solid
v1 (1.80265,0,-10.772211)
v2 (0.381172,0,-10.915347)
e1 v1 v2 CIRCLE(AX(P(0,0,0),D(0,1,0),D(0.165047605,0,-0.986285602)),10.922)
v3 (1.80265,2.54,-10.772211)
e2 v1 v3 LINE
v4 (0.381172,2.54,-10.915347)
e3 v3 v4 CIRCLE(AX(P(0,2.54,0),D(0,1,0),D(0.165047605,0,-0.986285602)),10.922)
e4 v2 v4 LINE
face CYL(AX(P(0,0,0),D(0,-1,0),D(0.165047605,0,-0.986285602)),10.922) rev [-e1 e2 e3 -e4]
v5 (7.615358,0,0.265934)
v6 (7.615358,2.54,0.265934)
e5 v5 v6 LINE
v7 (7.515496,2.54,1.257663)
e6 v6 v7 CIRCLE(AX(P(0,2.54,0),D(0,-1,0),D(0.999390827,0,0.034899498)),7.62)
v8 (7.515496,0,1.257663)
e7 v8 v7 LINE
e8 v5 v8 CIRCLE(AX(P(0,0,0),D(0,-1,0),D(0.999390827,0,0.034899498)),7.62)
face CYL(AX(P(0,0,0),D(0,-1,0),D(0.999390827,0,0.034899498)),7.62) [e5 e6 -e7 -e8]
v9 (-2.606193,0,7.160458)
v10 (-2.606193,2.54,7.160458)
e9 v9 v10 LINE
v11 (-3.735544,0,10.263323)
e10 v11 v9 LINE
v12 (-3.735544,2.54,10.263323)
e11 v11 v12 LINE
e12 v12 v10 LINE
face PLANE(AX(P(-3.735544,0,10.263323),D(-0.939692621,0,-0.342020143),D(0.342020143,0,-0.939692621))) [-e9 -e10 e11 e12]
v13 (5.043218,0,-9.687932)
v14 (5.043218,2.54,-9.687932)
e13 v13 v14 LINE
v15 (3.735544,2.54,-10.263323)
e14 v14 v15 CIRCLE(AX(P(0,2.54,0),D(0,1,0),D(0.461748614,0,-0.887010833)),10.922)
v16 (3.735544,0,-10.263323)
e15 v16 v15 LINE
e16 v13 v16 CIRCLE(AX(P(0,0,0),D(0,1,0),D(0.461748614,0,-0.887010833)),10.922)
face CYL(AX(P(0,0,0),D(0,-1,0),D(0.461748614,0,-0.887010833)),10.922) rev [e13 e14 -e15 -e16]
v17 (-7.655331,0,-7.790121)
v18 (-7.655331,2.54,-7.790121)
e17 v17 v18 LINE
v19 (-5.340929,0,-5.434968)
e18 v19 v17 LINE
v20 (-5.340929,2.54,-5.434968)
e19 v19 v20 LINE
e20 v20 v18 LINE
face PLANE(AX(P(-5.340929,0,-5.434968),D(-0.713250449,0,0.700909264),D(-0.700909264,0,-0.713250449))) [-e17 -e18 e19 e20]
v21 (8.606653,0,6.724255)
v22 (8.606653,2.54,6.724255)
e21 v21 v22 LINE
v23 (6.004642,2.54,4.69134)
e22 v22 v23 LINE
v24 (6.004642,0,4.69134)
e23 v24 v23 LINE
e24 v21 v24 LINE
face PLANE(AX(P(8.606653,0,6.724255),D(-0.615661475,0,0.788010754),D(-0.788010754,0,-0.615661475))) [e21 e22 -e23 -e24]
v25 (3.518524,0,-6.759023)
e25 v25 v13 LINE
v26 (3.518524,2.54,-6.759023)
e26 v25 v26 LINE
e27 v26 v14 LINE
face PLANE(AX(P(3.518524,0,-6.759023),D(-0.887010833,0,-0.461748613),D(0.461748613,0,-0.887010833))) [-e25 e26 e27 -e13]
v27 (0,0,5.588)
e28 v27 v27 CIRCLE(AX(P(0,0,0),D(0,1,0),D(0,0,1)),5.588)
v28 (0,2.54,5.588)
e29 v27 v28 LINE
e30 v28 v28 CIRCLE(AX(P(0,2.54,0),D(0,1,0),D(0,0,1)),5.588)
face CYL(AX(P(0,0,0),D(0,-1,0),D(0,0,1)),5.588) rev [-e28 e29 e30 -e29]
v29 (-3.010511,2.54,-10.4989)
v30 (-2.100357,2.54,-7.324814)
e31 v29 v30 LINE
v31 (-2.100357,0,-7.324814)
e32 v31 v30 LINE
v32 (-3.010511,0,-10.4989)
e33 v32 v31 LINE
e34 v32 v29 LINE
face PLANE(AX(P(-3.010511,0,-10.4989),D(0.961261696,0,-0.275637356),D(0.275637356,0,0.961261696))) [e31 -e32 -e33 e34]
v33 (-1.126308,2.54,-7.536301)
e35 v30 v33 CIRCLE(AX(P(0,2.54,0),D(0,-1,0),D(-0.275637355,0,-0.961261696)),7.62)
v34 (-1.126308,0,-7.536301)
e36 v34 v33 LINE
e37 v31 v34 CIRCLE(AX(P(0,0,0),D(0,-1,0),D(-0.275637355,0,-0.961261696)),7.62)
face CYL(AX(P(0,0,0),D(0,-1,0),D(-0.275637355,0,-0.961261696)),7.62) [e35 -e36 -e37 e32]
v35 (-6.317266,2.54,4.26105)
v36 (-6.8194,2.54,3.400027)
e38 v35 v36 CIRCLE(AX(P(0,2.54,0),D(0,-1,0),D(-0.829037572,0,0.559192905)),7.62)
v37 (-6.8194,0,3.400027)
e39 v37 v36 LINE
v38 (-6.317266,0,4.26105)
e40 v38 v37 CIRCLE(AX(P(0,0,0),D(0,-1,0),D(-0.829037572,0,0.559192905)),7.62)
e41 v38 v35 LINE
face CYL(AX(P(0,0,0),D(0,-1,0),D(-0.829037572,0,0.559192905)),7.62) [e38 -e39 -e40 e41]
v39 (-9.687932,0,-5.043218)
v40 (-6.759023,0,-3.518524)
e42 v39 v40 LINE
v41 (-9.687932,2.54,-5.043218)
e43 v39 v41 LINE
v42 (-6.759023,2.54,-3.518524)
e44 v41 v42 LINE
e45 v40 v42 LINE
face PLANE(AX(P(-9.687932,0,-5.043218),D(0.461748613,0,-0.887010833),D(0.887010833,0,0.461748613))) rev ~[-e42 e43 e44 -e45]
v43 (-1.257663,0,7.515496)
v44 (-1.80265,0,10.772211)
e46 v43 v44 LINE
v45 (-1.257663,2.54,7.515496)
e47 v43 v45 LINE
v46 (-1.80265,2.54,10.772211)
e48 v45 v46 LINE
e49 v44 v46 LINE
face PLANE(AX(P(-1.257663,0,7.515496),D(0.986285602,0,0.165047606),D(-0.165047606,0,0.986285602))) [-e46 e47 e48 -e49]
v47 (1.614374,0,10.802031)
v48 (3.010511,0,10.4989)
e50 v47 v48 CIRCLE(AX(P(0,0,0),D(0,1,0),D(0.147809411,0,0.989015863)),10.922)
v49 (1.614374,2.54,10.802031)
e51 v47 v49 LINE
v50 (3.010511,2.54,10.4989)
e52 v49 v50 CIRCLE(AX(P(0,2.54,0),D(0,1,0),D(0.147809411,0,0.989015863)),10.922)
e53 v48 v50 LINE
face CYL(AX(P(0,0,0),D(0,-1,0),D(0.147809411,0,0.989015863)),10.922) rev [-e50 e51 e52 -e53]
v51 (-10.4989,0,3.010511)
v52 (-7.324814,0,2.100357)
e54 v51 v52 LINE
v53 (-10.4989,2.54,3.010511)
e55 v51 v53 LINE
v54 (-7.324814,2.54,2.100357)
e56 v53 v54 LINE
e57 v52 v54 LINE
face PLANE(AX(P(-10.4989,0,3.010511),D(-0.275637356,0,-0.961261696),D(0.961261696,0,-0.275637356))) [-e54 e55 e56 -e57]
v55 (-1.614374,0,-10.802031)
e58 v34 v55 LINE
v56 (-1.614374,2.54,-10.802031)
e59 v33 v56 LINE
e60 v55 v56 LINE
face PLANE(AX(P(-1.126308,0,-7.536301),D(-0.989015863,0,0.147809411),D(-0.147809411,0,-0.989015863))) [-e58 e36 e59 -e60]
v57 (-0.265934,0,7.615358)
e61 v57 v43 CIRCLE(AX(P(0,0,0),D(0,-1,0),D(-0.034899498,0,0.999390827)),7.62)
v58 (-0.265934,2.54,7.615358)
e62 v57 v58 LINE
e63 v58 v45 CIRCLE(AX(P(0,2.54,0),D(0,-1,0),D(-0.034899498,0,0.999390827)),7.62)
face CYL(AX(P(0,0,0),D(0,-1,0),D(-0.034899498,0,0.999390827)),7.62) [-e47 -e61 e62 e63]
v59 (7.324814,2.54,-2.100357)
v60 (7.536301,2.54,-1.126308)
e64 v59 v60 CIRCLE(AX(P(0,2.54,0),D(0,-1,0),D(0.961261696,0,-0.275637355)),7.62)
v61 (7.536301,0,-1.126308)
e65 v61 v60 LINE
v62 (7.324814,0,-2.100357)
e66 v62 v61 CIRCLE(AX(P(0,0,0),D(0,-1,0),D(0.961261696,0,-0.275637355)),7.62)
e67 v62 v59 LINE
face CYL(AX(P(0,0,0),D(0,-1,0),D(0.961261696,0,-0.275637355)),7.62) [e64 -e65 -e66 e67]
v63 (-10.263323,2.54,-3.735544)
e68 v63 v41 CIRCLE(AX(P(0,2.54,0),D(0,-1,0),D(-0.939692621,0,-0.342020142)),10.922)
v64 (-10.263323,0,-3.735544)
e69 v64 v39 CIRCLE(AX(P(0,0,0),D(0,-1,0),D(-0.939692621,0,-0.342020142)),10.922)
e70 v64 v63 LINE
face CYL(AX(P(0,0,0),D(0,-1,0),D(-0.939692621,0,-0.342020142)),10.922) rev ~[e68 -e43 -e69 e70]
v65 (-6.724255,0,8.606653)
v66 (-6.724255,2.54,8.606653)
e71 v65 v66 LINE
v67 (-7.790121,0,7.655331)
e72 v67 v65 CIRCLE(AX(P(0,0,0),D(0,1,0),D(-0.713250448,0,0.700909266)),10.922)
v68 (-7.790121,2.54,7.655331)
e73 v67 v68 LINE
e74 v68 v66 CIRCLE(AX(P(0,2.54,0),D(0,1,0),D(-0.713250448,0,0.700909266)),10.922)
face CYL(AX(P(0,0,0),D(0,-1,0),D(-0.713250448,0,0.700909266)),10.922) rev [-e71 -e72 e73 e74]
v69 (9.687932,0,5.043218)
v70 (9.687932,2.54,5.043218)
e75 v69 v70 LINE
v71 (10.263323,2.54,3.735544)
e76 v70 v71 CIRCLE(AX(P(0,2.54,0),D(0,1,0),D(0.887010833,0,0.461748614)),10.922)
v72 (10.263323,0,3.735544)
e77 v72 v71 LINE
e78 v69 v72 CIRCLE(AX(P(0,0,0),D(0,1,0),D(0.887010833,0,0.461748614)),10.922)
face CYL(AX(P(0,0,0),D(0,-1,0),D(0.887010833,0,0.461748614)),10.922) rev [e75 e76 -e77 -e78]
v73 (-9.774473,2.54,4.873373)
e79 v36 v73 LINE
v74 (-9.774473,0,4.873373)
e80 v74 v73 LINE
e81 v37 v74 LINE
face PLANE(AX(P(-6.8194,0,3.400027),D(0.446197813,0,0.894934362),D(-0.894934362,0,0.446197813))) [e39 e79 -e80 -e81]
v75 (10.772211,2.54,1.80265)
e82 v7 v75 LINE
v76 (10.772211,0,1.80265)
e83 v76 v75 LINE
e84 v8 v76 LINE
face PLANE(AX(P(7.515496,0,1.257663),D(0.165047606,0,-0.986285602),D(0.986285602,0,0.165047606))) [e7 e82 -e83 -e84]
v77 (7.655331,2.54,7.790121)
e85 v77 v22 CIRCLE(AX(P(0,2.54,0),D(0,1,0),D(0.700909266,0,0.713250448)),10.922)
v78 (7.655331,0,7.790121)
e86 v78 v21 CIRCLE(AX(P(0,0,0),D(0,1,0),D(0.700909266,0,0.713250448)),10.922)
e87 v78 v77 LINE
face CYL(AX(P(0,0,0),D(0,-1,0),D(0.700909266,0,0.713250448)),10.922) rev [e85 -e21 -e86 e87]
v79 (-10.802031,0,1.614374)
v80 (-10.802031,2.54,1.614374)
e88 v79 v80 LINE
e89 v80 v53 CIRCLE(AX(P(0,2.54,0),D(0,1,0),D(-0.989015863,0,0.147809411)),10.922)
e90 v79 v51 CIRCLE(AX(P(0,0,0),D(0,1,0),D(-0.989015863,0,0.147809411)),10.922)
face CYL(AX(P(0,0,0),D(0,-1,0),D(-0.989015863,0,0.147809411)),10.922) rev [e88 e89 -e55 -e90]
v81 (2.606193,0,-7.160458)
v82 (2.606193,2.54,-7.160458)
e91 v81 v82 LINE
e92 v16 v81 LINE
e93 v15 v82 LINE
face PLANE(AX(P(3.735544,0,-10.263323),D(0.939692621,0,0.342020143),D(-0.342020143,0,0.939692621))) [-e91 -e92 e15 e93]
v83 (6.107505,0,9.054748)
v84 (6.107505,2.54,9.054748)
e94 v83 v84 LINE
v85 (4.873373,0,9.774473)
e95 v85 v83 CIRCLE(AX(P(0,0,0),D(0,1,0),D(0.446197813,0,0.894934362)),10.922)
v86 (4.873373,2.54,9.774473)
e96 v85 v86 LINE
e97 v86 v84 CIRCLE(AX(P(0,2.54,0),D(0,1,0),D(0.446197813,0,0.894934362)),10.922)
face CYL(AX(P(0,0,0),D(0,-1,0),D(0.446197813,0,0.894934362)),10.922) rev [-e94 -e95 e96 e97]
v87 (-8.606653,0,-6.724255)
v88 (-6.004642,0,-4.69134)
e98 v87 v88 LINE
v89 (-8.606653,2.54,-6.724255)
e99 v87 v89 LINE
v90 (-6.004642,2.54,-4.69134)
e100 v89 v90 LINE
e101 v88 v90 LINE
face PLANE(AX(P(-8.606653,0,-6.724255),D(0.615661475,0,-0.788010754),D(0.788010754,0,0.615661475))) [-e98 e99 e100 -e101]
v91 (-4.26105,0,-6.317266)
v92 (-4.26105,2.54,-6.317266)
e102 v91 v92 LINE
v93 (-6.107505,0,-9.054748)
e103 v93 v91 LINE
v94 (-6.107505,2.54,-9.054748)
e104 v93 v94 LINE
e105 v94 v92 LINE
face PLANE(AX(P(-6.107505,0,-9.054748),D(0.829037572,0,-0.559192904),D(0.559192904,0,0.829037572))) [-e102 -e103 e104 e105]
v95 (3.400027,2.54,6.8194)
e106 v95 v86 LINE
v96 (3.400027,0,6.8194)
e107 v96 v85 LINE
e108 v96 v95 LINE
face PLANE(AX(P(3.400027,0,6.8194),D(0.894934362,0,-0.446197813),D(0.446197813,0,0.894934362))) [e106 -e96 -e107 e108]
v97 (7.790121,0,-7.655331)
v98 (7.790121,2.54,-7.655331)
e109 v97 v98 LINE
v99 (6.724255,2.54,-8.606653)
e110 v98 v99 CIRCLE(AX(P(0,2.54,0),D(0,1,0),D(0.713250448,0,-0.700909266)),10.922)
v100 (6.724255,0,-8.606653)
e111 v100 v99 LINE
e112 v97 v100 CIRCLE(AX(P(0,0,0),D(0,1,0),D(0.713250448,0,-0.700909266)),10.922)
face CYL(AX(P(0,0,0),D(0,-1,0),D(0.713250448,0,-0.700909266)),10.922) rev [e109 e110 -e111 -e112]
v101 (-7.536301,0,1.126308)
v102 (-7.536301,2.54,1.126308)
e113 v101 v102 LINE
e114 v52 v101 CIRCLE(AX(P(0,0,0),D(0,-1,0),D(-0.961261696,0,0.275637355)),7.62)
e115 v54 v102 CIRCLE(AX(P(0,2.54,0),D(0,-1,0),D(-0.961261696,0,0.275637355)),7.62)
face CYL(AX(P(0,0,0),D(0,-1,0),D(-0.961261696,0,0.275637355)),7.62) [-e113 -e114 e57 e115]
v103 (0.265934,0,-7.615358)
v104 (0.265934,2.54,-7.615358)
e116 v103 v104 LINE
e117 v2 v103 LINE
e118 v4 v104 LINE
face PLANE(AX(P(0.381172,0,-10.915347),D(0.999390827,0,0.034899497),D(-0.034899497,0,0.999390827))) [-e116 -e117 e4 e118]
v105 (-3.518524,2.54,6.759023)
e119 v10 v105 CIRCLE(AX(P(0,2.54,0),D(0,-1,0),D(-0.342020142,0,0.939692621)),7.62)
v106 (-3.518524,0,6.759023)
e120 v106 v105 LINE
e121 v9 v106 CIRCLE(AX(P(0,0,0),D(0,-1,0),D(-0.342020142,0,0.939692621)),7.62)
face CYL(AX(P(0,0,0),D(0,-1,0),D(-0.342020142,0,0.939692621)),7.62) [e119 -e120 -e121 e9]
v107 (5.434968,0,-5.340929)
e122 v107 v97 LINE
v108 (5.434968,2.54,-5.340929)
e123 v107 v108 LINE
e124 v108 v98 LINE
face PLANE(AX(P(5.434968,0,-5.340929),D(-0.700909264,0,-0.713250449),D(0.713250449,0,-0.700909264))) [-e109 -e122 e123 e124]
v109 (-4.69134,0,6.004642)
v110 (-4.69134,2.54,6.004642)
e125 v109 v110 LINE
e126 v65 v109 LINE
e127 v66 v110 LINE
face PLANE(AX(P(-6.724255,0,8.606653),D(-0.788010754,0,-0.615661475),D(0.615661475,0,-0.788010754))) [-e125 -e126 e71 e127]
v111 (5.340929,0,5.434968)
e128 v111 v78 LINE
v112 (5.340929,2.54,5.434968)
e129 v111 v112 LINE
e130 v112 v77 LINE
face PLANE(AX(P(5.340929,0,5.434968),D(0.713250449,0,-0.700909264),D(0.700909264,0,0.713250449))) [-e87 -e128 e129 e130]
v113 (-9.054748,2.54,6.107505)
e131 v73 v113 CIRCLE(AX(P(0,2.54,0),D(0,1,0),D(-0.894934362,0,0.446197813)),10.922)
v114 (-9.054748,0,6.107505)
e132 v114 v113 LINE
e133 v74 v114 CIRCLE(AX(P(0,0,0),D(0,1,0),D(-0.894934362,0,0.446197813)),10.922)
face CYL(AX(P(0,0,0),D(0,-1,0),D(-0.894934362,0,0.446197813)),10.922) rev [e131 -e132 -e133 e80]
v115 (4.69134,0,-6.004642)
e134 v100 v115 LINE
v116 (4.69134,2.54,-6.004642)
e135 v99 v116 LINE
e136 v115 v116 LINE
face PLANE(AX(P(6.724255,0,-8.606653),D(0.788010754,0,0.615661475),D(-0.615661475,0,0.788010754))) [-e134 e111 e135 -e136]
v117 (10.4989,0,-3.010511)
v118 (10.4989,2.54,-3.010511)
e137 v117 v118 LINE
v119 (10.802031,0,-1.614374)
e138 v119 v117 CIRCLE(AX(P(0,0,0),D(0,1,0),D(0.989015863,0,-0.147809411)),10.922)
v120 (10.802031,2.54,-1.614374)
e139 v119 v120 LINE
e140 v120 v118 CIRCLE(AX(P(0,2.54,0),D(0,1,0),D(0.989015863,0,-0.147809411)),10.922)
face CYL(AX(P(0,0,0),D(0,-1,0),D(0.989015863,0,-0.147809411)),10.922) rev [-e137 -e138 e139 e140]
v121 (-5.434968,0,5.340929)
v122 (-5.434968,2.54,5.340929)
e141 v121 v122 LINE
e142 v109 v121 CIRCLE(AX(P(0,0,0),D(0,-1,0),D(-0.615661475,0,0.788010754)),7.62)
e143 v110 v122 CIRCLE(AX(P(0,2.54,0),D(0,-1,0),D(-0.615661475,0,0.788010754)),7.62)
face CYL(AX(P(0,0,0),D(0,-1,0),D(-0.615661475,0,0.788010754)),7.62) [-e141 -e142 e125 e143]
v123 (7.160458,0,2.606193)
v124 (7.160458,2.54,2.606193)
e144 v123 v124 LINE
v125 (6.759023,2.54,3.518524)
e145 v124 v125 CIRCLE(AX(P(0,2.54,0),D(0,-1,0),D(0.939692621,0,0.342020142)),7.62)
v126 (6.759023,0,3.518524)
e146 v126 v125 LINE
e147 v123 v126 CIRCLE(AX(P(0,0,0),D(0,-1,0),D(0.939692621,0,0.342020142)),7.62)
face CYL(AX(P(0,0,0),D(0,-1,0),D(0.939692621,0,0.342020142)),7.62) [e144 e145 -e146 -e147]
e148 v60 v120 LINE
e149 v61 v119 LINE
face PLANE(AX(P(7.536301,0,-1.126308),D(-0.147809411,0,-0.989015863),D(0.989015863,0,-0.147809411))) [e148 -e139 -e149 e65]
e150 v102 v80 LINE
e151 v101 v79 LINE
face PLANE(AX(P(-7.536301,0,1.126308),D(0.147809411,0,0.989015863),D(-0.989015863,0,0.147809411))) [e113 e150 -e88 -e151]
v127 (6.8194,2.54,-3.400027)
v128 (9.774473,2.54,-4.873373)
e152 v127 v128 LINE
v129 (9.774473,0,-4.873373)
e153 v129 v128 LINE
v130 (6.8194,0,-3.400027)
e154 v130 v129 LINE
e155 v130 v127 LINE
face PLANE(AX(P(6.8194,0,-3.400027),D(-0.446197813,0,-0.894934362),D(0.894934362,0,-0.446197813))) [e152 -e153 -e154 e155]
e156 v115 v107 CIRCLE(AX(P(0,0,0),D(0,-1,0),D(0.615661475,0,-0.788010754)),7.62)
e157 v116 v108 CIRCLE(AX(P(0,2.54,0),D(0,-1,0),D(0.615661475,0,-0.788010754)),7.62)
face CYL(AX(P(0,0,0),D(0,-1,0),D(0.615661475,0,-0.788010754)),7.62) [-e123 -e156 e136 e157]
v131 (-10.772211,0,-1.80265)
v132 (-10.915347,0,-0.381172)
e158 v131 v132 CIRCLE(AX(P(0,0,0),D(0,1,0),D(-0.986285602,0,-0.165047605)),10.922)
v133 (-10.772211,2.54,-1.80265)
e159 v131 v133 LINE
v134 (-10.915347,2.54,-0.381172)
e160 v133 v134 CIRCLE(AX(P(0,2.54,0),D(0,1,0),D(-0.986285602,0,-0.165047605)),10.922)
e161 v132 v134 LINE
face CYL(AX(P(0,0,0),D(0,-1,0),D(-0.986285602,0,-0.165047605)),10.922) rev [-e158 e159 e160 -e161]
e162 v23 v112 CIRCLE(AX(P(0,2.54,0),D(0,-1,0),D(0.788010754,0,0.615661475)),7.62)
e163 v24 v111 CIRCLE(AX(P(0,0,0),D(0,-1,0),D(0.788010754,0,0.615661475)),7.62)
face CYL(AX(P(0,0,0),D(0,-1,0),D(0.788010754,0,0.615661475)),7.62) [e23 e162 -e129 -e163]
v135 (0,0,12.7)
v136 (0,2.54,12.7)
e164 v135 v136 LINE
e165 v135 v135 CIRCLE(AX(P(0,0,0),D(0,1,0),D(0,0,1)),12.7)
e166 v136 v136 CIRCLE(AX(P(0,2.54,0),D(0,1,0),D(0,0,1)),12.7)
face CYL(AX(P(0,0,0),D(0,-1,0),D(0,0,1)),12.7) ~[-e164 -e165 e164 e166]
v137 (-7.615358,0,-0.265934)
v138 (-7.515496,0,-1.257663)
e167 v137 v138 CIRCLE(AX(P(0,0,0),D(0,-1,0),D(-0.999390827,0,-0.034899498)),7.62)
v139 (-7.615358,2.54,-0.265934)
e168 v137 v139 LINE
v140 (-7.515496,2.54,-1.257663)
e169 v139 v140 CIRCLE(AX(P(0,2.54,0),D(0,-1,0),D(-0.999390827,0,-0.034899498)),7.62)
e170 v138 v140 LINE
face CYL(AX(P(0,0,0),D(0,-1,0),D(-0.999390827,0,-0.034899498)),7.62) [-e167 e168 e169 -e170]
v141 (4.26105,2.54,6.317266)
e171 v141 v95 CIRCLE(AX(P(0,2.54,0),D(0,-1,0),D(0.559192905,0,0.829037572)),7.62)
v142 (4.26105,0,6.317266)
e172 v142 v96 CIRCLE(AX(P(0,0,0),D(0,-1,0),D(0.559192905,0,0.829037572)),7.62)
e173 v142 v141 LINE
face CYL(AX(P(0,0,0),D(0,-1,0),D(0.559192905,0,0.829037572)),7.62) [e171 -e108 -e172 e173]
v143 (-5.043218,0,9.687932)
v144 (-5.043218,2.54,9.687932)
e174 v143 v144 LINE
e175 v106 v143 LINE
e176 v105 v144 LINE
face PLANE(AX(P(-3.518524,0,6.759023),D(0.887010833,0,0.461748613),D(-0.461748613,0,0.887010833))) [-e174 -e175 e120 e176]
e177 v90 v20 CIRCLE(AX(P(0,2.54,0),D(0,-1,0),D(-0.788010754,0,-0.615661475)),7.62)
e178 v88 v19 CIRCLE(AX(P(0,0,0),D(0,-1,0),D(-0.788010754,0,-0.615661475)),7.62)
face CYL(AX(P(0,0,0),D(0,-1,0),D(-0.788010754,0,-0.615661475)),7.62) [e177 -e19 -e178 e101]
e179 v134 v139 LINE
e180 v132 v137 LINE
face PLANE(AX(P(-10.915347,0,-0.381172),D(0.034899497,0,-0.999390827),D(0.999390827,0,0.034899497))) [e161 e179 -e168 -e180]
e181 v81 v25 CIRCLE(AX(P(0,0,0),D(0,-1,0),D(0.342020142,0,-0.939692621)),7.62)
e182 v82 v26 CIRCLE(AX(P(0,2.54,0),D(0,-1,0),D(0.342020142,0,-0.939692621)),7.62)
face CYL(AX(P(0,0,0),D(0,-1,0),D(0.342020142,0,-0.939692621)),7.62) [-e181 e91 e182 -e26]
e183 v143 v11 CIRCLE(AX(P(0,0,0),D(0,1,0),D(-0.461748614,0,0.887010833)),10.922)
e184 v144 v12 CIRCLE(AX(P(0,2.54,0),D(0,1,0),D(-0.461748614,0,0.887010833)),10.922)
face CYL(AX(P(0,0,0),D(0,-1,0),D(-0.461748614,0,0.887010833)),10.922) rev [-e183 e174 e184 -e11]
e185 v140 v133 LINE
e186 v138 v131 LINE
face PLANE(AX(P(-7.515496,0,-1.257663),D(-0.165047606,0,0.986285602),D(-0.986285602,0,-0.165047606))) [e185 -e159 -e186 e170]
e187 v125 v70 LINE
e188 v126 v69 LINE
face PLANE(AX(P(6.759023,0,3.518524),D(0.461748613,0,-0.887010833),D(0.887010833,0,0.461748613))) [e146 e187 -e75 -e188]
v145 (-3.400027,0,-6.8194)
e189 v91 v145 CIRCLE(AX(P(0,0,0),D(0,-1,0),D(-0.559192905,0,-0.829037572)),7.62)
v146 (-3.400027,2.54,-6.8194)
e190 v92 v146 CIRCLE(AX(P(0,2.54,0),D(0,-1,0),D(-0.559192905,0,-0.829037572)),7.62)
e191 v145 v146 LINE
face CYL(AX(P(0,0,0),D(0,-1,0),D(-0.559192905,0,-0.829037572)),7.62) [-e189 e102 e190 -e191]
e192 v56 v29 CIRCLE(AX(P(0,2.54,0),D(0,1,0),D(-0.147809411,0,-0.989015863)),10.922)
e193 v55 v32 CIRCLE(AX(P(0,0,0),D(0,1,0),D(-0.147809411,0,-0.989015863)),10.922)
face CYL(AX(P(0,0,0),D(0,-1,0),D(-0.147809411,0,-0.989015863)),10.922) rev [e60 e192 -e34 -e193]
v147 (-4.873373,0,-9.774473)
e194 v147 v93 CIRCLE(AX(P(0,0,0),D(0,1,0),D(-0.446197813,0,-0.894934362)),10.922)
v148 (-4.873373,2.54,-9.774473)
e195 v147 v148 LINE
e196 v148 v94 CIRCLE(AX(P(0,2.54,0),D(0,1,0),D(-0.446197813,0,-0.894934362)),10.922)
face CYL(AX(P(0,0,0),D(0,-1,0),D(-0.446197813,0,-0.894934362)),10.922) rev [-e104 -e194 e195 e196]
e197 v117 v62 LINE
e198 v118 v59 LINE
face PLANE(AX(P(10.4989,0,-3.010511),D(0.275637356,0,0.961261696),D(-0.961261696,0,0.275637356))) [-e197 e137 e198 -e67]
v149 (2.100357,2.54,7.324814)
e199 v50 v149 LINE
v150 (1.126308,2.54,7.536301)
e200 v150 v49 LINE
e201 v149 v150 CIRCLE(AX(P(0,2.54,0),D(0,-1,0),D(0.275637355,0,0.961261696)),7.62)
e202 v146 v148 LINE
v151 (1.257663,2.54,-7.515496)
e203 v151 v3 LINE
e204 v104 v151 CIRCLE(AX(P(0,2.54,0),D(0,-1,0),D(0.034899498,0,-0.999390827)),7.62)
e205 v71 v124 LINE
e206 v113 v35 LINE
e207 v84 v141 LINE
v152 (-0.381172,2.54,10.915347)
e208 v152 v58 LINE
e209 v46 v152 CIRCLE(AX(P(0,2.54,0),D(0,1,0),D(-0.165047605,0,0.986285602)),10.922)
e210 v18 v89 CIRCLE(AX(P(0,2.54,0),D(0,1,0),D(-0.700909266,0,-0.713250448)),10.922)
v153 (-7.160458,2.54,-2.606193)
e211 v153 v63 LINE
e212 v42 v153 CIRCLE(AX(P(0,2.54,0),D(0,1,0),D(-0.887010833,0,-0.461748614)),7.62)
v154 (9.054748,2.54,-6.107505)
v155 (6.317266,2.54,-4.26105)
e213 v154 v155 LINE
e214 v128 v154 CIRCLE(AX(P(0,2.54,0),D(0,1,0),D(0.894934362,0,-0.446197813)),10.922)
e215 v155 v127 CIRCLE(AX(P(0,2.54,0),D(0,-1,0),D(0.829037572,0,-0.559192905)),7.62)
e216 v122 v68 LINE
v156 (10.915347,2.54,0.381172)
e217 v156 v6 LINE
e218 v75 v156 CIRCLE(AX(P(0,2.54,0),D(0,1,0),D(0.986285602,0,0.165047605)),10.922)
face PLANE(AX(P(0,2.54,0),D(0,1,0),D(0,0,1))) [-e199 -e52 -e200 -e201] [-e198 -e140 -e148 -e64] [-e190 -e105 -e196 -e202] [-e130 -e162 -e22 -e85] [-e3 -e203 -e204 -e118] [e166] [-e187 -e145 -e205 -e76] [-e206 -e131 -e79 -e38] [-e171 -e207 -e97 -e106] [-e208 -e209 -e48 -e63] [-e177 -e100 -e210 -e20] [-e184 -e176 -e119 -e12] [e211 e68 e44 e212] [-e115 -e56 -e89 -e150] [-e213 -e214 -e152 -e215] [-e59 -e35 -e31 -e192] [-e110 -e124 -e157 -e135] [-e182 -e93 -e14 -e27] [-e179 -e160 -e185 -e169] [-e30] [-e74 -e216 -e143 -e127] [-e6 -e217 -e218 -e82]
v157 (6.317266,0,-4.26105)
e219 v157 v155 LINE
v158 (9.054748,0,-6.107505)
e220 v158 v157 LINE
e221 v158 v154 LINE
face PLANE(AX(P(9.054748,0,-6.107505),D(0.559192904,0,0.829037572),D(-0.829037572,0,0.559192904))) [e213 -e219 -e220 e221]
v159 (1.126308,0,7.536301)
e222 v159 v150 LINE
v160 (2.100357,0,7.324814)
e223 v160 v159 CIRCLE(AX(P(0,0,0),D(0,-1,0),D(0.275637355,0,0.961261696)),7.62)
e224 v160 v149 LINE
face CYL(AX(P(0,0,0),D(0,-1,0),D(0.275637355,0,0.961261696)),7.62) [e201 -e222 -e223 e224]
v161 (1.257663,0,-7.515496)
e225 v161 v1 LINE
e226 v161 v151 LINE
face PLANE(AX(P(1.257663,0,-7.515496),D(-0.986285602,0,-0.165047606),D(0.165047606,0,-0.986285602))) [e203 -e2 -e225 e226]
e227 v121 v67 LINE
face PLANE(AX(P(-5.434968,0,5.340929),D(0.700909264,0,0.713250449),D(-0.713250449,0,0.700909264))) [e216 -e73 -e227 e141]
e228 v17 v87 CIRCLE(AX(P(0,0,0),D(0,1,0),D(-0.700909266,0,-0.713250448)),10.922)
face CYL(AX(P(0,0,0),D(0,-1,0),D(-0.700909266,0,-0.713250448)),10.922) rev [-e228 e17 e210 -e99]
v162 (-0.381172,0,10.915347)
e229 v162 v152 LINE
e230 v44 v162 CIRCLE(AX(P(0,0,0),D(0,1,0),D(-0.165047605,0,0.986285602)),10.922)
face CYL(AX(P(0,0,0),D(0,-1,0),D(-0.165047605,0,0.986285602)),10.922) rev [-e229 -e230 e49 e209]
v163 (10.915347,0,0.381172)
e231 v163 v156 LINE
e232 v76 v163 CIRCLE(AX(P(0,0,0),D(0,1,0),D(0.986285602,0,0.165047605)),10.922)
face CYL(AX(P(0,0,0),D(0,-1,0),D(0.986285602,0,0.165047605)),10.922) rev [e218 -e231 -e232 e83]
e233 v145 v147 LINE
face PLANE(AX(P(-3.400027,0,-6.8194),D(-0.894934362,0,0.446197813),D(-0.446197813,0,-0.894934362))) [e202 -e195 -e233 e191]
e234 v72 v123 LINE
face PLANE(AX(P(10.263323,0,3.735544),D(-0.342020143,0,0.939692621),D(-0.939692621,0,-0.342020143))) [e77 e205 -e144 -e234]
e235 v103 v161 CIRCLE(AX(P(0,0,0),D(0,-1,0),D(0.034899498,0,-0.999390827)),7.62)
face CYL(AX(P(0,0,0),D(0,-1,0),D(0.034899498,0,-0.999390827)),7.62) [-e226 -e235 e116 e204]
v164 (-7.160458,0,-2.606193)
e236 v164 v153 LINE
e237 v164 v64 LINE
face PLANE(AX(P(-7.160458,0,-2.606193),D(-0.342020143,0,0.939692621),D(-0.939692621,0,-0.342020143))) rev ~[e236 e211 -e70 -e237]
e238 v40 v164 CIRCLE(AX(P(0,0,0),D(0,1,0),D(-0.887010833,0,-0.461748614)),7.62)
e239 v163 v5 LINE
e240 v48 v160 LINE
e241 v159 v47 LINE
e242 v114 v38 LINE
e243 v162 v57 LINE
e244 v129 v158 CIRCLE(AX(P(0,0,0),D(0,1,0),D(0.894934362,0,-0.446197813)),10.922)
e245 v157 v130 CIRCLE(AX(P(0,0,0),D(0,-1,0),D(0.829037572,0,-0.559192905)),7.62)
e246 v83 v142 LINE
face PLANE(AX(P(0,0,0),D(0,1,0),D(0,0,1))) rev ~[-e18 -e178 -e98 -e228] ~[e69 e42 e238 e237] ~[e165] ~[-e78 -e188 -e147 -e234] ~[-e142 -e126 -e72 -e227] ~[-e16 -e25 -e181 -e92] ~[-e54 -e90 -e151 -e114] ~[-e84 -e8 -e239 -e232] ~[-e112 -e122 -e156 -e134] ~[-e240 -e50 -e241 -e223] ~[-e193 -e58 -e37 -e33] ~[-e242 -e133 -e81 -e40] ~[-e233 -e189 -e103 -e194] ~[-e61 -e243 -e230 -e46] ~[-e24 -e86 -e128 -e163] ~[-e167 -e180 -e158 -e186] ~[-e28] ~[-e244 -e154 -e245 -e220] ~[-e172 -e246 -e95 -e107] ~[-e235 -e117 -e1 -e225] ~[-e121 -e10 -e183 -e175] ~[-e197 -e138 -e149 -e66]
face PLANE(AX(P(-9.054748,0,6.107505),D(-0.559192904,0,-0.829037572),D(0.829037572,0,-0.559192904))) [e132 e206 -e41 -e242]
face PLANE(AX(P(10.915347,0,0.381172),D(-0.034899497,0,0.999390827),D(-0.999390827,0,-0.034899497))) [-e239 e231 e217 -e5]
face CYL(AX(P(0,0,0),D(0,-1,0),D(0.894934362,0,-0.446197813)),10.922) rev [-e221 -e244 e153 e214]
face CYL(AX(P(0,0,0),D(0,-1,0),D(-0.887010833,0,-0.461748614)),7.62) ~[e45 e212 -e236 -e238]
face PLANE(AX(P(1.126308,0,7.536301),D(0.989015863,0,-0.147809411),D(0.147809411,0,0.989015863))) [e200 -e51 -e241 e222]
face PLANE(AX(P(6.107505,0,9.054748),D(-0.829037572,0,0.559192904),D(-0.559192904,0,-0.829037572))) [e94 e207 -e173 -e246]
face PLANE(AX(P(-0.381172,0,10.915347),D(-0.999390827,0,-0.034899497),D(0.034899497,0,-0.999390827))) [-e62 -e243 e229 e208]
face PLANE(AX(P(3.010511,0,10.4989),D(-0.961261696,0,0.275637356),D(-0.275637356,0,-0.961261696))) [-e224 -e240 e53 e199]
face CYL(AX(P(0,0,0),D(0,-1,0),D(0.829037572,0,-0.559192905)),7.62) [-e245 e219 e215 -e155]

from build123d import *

# Parameters (mm, degrees)
SKETCH1_R           = 12.7
SKETCH1_R_2         = 5.588
BOSS_EXTRUDE1_DEPTH = 2.54


with BuildPart() as part:
    # Sketch1 → Boss-Extrude1 (new body)
    with BuildSketch(Plane(origin=(0, 0, 0), x_dir=(1, 0, 0), z_dir=(0, 1, 0))):
        with Locations(Location((0, 0, 0), (0, 0, 270))):
            Circle(SKETCH1_R)
        with Locations(Location((0, 0, 0), (0, 0, 270))):
            Circle(SKETCH1_R_2, mode=Mode.SUBTRACT)
        with BuildLine():
            Line((-9.68793232, 5.043218354), (-6.759022549, 3.518524433))
            ThreePointArc((-6.759022549, 3.518524433), (-6.974673471, 3.068929777), (-7.16045777, 2.606193492))
            Line((-7.16045777, 2.606193492), (-10.263322804, 3.735544005))
            ThreePointArc((-10.263322804, 3.735544005), (-9.997031975, 4.398799347), (-9.68793232, 5.043218354))
        make_face(mode=Mode.SUBTRACT)
        with BuildLine():
            Line((-8.606653451, 6.724254634), (-6.004641942, 4.691340442))
            ThreePointArc((-6.004641942, 4.691340442), (-5.684957198, 5.074018295), (-5.340928594, 5.434968423))
            Line((-5.340928594, 5.434968423), (-7.655330985, 7.790121406))
            ThreePointArc((-7.655330985, 7.790121406), (-8.14843865, 7.272759556), (-8.606653451, 6.724254634))
        make_face(mode=Mode.SUBTRACT)
        with BuildLine():
            Line((-6.107504892, 9.054748367), (-4.261049924, 6.317266303))
            ThreePointArc((-4.261049924, 6.317266303), (-3.838757705, 6.58242655), (-3.400027336, 6.819399835))
            Line((-3.400027336, 6.819399835), (-4.873372515, 9.774473097))
            ThreePointArc((-4.873372515, 9.774473097), (-5.502219377, 9.434811388), (-6.107504892, 9.054748367))
        make_face(mode=Mode.SUBTRACT)
        with BuildLine():
            Line((-3.0105112, 10.498900243), (-2.100356651, 7.324814123))
            ThreePointArc((-2.100356651, 7.324814123), (-1.616793862, 7.446501031), (-1.126307713, 7.536300879))
            Line((-1.126307713, 7.536300879), (-1.614374388, 10.80203126))
            ThreePointArc((-1.614374388, 10.80203126), (-2.317404535, 10.673318145), (-3.0105112, 10.498900243))
        make_face(mode=Mode.SUBTRACT)
        with BuildLine():
            Line((0.381172303, 10.915346613), (0.265934165, 7.615358102))
            ThreePointArc((0.265934165, 7.615358102), (0.763433029, 7.581660109), (1.257662757, 7.515496284))
            Line((1.257662757, 7.515496284), (1.802649951, 10.77221134))
            ThreePointArc((1.802649951, 10.77221134), (1.094254009, 10.867046156), (0.381172303, 10.915346613))
        make_face(mode=Mode.SUBTRACT)
        with BuildLine():
            Line((3.735544005, 10.263322804), (2.606193492, 7.16045777))
            ThreePointArc((2.606193492, 7.16045777), (3.068929777, 6.974673471), (3.518524433, 6.759022549))
            Line((3.518524433, 6.759022549), (5.043218354, 9.68793232))
            ThreePointArc((5.043218354, 9.68793232), (4.398799347, 9.997031975), (3.735544005, 10.263322804))
        make_face(mode=Mode.SUBTRACT)
        with BuildLine():
            Line((6.724254634, 8.606653451), (4.691340442, 6.004641942))
            ThreePointArc((4.691340442, 6.004641942), (5.074018295, 5.684957198), (5.434968423, 5.340928594))
            Line((5.434968423, 5.340928594), (7.790121406, 7.655330985))
            ThreePointArc((7.790121406, 7.655330985), (7.272759556, 8.14843865), (6.724254634, 8.606653451))
        make_face(mode=Mode.SUBTRACT)
        with BuildLine():
            Line((9.054748367, 6.107504892), (6.317266303, 4.261049924))
            ThreePointArc((6.317266303, 4.261049924), (6.58242655, 3.838757705), (6.819399835, 3.400027336))
            Line((6.819399835, 3.400027336), (9.774473097, 4.873372515))
            ThreePointArc((9.774473097, 4.873372515), (9.434811388, 5.502219377), (9.054748367, 6.107504892))
        make_face(mode=Mode.SUBTRACT)
        with BuildLine():
            Line((10.498900243, 3.0105112), (7.324814123, 2.100356651))
            ThreePointArc((7.324814123, 2.100356651), (7.446501031, 1.616793862), (7.536300879, 1.126307713))
            Line((7.536300879, 1.126307713), (10.80203126, 1.614374388))
            ThreePointArc((10.80203126, 1.614374388), (10.673318145, 2.317404535), (10.498900243, 3.0105112))
        make_face(mode=Mode.SUBTRACT)
        with BuildLine():
            Line((10.915346613, -0.381172303), (7.615358102, -0.265934165))
            ThreePointArc((7.615358102, -0.265934165), (7.581660109, -0.763433029), (7.515496284, -1.257662757))
            Line((7.515496284, -1.257662757), (10.77221134, -1.802649951))
            ThreePointArc((10.77221134, -1.802649951), (10.867046156, -1.094254009), (10.915346613, -0.381172303))
        make_face(mode=Mode.SUBTRACT)
        with BuildLine():
            Line((10.263322804, -3.735544005), (7.16045777, -2.606193492))
            ThreePointArc((7.16045777, -2.606193492), (6.974673471, -3.068929777), (6.759022549, -3.518524433))
            Line((6.759022549, -3.518524433), (9.68793232, -5.043218354))
            ThreePointArc((9.68793232, -5.043218354), (9.997031975, -4.398799347), (10.263322804, -3.735544005))
        make_face(mode=Mode.SUBTRACT)
        with BuildLine():
            Line((8.606653451, -6.724254634), (6.004641942, -4.691340442))
            ThreePointArc((6.004641942, -4.691340442), (5.684957198, -5.074018295), (5.340928594, -5.434968423))
            Line((5.340928594, -5.434968423), (7.655330985, -7.790121406))
            ThreePointArc((7.655330985, -7.790121406), (8.14843865, -7.272759556), (8.606653451, -6.724254634))
        make_face(mode=Mode.SUBTRACT)
        with BuildLine():
            Line((6.107504892, -9.054748367), (4.261049924, -6.317266303))
            ThreePointArc((4.261049924, -6.317266303), (3.838757705, -6.58242655), (3.400027336, -6.819399835))
            Line((3.400027336, -6.819399835), (4.873372515, -9.774473097))
            ThreePointArc((4.873372515, -9.774473097), (5.502219377, -9.434811388), (6.107504892, -9.054748367))
        make_face(mode=Mode.SUBTRACT)
        with BuildLine():
            Line((3.0105112, -10.498900243), (2.100356651, -7.324814123))
            ThreePointArc((2.100356651, -7.324814123), (1.616793862, -7.446501031), (1.126307713, -7.536300879))
            Line((1.126307713, -7.536300879), (1.614374388, -10.80203126))
            ThreePointArc((1.614374388, -10.80203126), (2.317404535, -10.673318145), (3.0105112, -10.498900243))
        make_face(mode=Mode.SUBTRACT)
        with BuildLine():
            Line((-0.381172303, -10.915346613), (-0.265934165, -7.615358102))
            ThreePointArc((-0.265934165, -7.615358102), (-0.763433029, -7.581660109), (-1.257662757, -7.515496284))
            Line((-1.257662757, -7.515496284), (-1.802649951, -10.77221134))
            ThreePointArc((-1.802649951, -10.77221134), (-1.094254009, -10.867046156), (-0.381172303, -10.915346613))
        make_face(mode=Mode.SUBTRACT)
        with BuildLine():
            Line((-3.735544005, -10.263322804), (-2.606193492, -7.16045777))
            ThreePointArc((-2.606193492, -7.16045777), (-3.068929777, -6.974673471), (-3.518524433, -6.759022549))
            Line((-3.518524433, -6.759022549), (-5.043218354, -9.68793232))
            ThreePointArc((-5.043218354, -9.68793232), (-4.398799347, -9.997031975), (-3.735544005, -10.263322804))
        make_face(mode=Mode.SUBTRACT)
        with BuildLine():
            Line((-6.724254634, -8.606653451), (-4.691340442, -6.004641942))
            ThreePointArc((-4.691340442, -6.004641942), (-5.074018295, -5.684957198), (-5.434968423, -5.340928594))
            Line((-5.434968423, -5.340928594), (-7.790121406, -7.655330985))
            ThreePointArc((-7.790121406, -7.655330985), (-7.272759556, -8.14843865), (-6.724254634, -8.606653451))
        make_face(mode=Mode.SUBTRACT)
        with BuildLine():
            Line((-9.054748367, -6.107504892), (-6.317266303, -4.261049924))
            ThreePointArc((-6.317266303, -4.261049924), (-6.58242655, -3.838757705), (-6.819399835, -3.400027336))
            Line((-6.819399835, -3.400027336), (-9.774473097, -4.873372515))
            ThreePointArc((-9.774473097, -4.873372515), (-9.434811388, -5.502219377), (-9.054748367, -6.107504892))
        make_face(mode=Mode.SUBTRACT)
        with BuildLine():
            Line((-10.498900243, -3.0105112), (-7.324814123, -2.100356651))
            ThreePointArc((-7.324814123, -2.100356651), (-7.446501031, -1.616793862), (-7.536300879, -1.126307713))
            Line((-7.536300879, -1.126307713), (-10.80203126, -1.614374388))
            ThreePointArc((-10.80203126, -1.614374388), (-10.673318145, -2.317404535), (-10.498900243, -3.0105112))
        make_face(mode=Mode.SUBTRACT)
        with BuildLine():
            Line((-10.915346613, 0.381172303), (-7.615358102, 0.265934165))
            ThreePointArc((-7.615358102, 0.265934165), (-7.581660109, 0.763433029), (-7.515496284, 1.257662757))
            Line((-7.515496284, 1.257662757), (-10.77221134, 1.802649951))
            ThreePointArc((-10.77221134, 1.802649951), (-10.867046156, 1.094254009), (-10.915346613, 0.381172303))
        make_face(mode=Mode.SUBTRACT)
    extrude(amount=BOSS_EXTRUDE1_DEPTH)


solid = part.part
